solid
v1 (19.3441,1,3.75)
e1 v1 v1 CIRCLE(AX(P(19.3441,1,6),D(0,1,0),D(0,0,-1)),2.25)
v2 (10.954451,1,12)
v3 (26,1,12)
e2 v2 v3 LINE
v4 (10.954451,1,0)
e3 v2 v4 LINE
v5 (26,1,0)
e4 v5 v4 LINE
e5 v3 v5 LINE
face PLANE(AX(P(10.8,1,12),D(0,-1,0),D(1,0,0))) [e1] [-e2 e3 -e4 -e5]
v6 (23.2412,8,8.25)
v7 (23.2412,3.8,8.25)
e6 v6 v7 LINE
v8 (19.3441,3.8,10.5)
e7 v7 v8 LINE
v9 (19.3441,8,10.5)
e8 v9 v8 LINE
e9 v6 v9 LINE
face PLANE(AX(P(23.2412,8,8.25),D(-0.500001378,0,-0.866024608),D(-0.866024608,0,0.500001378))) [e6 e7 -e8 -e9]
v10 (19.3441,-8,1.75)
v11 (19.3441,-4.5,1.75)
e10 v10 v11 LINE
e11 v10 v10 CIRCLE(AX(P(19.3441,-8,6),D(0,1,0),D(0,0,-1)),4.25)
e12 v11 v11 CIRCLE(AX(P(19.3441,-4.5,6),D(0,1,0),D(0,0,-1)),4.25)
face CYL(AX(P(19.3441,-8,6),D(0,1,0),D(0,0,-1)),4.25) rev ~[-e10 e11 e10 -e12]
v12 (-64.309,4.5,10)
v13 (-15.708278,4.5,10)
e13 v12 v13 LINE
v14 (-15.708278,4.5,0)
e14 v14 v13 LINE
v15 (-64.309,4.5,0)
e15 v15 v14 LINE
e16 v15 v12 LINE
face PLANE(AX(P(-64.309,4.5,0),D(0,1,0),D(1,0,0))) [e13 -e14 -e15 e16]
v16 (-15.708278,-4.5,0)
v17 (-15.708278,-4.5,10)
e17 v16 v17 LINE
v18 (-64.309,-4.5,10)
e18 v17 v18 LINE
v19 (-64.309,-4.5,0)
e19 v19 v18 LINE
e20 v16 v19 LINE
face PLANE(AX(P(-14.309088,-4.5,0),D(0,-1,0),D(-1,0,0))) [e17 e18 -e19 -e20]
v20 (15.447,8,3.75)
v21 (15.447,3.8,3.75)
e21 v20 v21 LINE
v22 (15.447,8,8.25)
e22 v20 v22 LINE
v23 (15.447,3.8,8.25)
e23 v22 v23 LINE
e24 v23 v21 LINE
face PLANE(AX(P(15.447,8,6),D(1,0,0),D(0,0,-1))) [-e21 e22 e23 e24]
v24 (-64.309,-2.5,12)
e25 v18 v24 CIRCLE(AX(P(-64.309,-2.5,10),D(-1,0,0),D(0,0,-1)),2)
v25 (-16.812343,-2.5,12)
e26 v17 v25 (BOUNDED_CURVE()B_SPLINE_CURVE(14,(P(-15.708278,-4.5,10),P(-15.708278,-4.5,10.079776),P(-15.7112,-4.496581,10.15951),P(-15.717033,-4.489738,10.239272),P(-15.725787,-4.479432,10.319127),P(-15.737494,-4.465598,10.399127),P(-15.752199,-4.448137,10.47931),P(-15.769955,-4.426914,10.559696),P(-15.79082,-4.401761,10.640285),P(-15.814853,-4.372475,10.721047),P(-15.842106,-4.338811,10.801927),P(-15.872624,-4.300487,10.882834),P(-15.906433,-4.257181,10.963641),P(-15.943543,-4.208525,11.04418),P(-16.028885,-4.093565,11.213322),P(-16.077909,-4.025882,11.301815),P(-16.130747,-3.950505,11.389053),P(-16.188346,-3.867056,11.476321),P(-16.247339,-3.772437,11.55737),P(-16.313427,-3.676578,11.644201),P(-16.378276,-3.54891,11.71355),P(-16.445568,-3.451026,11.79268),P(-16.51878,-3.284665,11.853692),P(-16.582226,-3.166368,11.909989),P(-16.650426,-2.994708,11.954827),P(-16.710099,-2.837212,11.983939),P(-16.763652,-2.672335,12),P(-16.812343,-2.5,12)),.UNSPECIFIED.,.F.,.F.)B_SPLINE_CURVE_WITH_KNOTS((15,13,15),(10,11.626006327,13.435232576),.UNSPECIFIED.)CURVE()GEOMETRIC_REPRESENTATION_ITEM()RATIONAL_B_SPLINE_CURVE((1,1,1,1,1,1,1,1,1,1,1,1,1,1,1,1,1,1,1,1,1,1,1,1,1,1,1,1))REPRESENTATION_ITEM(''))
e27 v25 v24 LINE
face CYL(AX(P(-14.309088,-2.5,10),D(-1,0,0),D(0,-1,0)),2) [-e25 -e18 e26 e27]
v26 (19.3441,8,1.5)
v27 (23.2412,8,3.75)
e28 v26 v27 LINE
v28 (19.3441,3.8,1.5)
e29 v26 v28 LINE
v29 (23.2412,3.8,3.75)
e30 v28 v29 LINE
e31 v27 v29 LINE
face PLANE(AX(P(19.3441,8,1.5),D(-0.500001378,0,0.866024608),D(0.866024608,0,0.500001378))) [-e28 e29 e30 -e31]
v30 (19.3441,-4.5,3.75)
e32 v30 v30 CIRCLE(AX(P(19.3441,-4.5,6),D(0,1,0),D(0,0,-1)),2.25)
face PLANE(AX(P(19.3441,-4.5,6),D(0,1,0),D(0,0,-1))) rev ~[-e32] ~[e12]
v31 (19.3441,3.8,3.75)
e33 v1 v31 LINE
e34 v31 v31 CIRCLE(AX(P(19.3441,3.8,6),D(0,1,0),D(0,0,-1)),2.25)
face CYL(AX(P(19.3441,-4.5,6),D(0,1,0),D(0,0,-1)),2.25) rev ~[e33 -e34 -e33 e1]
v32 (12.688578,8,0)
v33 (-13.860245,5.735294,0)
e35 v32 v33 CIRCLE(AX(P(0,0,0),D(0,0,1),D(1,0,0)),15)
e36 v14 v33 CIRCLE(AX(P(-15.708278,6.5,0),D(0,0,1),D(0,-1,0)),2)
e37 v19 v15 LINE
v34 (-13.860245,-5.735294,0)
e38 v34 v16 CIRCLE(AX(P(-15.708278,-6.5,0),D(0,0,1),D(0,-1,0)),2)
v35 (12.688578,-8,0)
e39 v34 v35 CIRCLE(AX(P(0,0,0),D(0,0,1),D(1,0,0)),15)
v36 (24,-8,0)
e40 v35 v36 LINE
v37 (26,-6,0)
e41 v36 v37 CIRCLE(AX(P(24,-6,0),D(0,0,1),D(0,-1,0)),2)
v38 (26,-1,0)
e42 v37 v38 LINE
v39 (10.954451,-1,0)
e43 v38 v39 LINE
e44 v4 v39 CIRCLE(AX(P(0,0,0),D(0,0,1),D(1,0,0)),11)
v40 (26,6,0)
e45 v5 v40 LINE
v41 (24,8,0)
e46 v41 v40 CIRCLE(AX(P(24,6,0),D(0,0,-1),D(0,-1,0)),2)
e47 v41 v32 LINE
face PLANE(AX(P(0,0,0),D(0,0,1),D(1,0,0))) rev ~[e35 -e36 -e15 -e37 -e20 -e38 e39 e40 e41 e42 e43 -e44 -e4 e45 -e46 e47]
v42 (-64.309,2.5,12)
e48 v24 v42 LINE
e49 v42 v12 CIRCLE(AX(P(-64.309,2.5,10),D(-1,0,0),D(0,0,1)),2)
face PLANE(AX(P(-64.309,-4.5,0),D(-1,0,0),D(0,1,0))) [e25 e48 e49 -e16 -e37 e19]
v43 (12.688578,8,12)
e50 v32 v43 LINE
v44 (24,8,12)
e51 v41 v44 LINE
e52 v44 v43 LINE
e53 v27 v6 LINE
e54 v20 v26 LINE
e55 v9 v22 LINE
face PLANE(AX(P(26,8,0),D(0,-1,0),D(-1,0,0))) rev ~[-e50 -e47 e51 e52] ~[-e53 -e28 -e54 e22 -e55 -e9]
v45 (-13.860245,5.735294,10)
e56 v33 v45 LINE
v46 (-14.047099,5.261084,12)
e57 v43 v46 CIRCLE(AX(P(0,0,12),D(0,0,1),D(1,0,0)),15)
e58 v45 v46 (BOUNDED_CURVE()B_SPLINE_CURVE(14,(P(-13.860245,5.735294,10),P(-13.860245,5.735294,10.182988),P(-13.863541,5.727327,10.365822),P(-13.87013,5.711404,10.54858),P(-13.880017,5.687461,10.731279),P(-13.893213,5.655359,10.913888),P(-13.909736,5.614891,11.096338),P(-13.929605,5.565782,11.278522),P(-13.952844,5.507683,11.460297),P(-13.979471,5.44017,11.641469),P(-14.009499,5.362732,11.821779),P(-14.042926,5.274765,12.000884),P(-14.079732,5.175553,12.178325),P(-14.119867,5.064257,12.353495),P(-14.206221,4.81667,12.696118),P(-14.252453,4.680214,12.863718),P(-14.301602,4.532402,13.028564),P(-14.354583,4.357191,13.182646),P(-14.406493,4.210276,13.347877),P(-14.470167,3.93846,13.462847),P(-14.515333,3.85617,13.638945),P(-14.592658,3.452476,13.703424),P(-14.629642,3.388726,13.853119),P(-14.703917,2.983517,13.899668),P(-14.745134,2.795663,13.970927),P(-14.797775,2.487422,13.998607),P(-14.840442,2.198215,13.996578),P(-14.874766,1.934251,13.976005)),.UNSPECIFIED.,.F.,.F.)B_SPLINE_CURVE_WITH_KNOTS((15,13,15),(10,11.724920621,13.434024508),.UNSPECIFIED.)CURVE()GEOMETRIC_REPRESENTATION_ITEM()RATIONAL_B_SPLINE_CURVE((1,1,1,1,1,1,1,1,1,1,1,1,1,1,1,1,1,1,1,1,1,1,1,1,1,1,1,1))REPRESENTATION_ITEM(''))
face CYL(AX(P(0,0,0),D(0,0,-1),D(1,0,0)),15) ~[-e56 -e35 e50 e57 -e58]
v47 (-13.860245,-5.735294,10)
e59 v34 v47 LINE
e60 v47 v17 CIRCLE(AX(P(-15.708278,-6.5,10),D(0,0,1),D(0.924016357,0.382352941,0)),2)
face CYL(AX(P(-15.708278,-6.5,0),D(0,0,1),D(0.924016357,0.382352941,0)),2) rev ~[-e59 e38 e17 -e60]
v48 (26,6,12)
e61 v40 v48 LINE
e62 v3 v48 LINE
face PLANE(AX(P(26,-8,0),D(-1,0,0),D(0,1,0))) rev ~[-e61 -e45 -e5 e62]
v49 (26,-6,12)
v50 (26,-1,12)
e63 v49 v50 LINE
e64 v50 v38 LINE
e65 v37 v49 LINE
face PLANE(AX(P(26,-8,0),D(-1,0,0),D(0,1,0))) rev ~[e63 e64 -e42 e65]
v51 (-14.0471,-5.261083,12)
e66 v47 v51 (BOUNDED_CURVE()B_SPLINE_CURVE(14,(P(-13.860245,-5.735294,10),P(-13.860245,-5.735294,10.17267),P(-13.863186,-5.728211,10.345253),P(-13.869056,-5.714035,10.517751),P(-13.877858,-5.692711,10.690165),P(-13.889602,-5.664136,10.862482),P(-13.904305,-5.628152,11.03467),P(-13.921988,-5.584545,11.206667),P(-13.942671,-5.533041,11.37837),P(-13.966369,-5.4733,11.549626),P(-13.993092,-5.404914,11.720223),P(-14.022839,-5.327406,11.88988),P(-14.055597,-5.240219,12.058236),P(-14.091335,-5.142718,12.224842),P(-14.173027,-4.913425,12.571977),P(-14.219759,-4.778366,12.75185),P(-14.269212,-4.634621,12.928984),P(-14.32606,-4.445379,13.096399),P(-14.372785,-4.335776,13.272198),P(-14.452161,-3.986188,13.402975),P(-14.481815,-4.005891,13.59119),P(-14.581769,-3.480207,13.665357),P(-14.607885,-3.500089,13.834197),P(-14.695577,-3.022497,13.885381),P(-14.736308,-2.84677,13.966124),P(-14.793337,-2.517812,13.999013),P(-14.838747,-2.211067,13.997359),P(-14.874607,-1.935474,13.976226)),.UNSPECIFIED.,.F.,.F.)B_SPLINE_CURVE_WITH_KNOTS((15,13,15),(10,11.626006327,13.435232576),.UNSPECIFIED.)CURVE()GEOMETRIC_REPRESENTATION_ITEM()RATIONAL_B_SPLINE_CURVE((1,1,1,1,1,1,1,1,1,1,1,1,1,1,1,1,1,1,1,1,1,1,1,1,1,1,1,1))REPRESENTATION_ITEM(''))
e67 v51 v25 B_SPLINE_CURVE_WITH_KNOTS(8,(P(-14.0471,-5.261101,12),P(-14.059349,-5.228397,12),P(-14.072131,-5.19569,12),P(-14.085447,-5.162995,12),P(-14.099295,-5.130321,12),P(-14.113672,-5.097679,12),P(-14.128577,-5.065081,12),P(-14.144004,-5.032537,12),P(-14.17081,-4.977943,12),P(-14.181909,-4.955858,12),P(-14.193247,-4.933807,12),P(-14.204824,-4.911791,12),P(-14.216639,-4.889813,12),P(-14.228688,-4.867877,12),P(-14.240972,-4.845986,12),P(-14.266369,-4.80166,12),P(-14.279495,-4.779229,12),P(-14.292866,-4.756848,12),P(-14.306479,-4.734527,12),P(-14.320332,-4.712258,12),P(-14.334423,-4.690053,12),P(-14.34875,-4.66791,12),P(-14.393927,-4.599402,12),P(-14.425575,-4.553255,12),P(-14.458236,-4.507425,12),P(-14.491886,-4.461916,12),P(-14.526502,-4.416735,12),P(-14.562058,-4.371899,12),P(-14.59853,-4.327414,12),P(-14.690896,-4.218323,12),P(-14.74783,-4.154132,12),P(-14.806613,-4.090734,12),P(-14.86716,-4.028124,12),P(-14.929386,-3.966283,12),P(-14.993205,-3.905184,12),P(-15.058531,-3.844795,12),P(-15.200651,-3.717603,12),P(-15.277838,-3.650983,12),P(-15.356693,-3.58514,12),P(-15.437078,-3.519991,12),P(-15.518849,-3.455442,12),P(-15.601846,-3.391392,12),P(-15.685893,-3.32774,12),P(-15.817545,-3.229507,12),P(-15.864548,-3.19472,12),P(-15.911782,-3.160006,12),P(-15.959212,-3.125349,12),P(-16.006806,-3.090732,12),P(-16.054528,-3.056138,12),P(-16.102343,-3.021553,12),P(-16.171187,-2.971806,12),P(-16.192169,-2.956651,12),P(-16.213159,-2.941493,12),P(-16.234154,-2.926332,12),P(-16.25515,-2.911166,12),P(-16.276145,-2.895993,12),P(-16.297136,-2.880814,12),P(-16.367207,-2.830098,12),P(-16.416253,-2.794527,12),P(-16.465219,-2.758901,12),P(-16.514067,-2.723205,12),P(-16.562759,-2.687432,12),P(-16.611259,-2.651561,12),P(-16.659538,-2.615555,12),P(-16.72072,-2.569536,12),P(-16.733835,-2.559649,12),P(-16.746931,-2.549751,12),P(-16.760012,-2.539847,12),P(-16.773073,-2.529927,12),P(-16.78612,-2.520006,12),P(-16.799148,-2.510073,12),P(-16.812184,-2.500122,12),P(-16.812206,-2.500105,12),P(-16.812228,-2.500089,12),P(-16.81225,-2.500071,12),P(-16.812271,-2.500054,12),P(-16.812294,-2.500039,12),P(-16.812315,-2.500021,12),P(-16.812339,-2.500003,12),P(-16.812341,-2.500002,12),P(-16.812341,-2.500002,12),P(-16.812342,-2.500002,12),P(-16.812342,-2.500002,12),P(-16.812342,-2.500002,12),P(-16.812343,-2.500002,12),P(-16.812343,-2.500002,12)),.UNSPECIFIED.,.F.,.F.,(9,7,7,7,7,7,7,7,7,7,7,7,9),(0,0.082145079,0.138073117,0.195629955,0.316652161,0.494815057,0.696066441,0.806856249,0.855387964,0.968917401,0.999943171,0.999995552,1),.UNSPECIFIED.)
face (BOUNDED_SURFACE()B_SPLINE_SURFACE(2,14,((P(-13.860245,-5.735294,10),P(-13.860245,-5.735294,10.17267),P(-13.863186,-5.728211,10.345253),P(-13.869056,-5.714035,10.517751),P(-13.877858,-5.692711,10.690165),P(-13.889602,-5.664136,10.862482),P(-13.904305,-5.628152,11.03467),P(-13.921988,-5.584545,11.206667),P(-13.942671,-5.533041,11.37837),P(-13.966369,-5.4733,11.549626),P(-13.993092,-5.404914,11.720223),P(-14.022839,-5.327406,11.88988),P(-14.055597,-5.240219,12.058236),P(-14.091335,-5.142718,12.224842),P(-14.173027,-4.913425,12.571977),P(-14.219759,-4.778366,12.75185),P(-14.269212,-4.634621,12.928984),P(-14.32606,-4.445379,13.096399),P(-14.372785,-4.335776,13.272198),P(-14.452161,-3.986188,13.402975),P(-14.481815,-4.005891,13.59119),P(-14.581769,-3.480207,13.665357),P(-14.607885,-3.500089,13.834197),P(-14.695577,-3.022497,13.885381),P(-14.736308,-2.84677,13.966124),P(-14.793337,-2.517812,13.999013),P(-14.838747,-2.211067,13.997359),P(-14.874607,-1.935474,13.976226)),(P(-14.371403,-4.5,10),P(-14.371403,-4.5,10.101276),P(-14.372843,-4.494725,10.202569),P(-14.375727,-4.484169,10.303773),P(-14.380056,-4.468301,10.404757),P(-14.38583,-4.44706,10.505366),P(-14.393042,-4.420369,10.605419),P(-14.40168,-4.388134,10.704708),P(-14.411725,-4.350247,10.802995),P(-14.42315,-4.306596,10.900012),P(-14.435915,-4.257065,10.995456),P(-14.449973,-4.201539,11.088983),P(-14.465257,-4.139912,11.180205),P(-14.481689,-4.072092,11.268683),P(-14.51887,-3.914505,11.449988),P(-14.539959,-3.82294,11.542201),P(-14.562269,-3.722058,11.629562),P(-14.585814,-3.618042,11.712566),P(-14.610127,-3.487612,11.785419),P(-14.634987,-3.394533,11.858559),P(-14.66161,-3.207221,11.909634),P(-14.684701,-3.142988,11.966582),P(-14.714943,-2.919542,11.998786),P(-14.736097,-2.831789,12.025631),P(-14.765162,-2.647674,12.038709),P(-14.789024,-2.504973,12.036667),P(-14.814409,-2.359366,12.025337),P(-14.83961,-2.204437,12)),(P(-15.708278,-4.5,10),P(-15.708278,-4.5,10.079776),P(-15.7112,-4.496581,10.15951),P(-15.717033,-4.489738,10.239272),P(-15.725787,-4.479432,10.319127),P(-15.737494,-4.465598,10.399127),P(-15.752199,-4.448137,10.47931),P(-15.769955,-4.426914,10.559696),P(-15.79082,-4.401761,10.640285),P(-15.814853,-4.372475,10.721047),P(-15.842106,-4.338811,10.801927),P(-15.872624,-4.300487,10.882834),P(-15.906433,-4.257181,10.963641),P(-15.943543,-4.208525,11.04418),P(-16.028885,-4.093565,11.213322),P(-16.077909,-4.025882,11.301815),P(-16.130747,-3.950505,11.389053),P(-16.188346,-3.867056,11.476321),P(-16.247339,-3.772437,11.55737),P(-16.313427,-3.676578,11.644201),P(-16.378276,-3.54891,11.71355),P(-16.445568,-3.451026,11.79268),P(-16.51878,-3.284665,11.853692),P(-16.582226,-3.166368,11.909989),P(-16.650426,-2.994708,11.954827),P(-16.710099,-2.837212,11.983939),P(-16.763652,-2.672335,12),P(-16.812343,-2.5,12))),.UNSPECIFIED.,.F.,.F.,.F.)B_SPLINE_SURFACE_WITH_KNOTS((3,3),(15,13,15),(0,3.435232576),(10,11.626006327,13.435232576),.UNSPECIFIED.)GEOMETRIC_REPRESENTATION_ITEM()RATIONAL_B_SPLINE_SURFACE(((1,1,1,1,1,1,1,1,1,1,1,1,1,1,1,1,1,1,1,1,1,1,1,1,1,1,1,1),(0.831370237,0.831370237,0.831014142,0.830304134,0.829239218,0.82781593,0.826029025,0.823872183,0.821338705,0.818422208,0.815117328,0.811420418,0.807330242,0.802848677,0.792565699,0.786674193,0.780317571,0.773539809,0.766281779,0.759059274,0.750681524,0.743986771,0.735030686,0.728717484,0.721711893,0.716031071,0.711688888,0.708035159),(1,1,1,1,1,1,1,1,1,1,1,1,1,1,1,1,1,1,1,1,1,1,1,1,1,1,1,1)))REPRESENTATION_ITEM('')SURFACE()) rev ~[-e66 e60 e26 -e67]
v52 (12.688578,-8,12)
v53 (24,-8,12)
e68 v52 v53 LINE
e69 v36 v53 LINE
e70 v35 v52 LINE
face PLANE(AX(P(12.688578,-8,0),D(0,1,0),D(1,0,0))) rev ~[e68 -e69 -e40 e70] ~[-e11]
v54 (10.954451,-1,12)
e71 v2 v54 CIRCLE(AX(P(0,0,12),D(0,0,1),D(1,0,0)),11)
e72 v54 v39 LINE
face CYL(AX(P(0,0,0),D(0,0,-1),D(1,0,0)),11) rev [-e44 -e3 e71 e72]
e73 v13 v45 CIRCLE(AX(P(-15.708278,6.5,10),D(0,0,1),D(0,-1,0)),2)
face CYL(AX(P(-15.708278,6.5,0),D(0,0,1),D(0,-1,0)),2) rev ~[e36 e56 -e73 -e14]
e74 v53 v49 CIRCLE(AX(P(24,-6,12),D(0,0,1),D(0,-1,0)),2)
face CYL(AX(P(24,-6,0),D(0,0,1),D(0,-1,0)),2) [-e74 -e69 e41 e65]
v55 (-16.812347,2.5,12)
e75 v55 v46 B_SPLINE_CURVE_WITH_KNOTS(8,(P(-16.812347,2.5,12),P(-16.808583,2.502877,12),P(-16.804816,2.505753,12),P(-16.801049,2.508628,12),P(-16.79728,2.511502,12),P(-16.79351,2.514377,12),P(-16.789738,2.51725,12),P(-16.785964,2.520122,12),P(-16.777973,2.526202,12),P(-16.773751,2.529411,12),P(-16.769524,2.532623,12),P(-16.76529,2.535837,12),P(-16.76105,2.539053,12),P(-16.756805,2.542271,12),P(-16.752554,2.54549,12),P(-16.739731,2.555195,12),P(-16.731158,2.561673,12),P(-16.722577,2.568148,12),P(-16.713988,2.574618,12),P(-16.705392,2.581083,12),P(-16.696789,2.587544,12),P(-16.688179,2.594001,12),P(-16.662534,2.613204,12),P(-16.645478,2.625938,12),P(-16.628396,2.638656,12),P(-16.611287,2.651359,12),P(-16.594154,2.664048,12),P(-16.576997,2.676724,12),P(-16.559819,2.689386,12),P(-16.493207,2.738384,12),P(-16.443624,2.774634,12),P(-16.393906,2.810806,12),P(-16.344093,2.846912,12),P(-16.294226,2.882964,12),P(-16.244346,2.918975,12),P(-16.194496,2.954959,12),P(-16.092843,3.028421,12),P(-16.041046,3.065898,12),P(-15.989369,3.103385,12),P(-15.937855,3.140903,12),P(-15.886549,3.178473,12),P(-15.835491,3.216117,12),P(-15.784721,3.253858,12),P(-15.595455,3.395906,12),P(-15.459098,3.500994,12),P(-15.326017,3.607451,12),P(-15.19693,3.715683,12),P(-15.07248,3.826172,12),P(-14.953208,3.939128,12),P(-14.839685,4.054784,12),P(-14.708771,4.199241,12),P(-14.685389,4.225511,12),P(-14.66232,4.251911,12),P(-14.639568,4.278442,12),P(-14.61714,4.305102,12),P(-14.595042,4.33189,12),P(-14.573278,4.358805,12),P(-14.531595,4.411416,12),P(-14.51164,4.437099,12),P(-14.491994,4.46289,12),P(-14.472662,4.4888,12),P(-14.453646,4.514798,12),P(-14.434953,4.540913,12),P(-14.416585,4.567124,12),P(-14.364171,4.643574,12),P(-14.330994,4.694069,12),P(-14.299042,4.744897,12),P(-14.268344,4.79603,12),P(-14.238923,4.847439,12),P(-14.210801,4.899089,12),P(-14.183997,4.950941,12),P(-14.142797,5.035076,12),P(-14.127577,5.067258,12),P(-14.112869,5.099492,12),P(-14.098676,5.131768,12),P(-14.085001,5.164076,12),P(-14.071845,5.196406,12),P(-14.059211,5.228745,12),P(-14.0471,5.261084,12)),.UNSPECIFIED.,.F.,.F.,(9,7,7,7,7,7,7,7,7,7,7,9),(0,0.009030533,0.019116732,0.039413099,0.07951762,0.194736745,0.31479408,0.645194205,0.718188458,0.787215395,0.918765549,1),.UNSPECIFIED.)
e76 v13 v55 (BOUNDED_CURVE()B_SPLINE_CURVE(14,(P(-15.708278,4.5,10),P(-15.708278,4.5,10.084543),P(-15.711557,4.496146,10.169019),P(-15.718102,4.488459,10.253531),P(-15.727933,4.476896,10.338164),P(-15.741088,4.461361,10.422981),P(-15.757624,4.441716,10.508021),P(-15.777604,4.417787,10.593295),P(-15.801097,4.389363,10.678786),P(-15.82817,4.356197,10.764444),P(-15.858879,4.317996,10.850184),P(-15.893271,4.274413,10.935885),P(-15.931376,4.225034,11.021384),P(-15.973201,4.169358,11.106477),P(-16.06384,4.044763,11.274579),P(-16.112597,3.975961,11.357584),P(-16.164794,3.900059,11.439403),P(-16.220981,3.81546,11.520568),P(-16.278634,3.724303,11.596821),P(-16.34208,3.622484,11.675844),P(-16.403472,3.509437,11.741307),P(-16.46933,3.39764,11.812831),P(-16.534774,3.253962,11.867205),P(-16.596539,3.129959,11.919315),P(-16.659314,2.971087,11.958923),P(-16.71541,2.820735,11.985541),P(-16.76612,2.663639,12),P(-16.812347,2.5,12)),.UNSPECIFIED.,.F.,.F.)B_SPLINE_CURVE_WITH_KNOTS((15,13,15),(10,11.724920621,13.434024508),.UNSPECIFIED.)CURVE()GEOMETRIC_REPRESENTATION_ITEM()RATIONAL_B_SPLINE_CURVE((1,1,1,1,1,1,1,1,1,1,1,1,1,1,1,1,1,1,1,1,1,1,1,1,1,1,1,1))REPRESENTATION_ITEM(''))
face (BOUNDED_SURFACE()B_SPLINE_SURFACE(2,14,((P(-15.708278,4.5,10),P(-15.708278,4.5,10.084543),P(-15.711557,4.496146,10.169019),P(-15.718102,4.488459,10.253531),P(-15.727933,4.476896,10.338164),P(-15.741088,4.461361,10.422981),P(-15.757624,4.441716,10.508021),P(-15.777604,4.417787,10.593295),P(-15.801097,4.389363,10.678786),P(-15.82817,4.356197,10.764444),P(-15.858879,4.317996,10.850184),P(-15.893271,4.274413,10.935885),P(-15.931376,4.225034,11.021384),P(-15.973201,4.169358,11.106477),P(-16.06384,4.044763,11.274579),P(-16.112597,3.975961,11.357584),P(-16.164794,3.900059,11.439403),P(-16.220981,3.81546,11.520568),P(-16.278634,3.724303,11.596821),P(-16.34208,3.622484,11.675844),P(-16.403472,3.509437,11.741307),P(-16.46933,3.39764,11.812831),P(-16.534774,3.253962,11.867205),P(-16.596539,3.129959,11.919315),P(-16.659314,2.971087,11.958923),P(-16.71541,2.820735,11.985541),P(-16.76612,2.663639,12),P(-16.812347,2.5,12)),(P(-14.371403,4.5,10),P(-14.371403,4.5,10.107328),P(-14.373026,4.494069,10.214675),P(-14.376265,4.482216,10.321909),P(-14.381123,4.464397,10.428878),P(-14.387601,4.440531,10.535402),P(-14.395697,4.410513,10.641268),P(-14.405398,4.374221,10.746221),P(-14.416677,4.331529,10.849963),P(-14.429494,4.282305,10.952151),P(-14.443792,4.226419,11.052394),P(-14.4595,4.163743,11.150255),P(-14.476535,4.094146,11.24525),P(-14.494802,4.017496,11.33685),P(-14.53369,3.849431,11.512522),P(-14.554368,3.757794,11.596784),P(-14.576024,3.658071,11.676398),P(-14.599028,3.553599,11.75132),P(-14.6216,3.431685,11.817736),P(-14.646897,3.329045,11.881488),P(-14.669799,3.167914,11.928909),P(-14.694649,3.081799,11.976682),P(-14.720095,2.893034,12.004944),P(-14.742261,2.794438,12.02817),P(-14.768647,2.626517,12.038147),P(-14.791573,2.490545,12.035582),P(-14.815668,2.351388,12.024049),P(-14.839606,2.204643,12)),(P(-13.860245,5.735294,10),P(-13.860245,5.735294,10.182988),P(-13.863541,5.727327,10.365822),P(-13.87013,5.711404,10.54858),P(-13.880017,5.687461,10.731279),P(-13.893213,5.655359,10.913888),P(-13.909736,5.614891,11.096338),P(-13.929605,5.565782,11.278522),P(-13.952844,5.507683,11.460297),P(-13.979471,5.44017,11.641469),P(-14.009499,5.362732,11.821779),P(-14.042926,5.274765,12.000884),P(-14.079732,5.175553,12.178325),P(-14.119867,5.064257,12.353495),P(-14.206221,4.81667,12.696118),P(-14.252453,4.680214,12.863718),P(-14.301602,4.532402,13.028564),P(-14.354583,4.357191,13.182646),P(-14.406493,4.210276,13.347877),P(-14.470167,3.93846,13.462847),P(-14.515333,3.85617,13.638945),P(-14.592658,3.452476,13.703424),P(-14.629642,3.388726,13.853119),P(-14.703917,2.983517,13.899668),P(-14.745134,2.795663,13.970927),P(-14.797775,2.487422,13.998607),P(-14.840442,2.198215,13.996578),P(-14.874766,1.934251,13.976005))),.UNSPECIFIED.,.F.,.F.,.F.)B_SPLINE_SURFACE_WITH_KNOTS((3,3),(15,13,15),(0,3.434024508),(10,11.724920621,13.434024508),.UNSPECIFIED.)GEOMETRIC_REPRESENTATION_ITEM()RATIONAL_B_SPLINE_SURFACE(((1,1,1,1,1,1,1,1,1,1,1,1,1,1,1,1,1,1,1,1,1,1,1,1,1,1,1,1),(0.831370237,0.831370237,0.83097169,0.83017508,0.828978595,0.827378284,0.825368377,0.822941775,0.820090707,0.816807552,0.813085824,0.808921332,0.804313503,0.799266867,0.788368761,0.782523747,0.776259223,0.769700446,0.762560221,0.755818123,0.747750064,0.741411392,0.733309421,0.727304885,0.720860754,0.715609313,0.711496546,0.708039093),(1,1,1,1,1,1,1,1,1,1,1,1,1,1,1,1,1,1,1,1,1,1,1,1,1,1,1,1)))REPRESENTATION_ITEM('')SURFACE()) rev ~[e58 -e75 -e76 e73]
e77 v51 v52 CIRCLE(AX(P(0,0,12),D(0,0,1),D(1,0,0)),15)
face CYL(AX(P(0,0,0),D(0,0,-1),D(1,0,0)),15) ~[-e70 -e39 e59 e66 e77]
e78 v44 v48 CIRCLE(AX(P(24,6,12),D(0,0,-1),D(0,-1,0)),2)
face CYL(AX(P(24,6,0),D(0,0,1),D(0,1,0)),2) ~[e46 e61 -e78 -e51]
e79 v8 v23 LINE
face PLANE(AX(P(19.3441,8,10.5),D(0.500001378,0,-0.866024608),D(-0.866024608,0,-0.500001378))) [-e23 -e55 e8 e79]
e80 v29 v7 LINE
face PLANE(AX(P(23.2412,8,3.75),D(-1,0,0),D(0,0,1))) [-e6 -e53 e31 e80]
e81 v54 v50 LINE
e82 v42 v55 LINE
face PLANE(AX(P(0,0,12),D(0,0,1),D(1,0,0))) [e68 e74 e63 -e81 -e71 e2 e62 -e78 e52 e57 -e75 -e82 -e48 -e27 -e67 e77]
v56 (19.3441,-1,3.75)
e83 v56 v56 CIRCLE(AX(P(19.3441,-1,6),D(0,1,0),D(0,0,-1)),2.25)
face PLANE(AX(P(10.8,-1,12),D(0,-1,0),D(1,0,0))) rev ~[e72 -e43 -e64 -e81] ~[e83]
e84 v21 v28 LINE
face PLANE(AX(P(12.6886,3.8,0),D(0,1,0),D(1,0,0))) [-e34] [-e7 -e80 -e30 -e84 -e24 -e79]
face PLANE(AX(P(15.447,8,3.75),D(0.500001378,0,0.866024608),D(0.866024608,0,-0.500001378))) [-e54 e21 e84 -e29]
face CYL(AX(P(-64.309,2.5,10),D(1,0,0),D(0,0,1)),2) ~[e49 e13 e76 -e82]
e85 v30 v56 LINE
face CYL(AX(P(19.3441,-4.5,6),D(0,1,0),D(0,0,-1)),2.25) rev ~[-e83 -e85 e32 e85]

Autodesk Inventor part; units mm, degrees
ref_plane "YZ Plane" through (0, 0, 0) normal (1, 0, 0) x (0, 1, 0)
ref_plane "XZ Plane" through (0, 0, 0) normal (0, 1, 0) x (-1, 0, 0)
ref_plane "XY Plane" through (0, 0, 0) normal (0, 0, 1) x (1, 0, 0)
sketch "Sketch1" plane through (0, 0, 0) normal (0, 0, 1) x (1, 0, 0)
  circle A0 centre (0, 0) radius 11
  circle A1 centre (0, 0) radius 15
  line L0 (26, 8) -> (11, 8)
  line L1 (11, 8) -> (11, -8)
  line L2 (11, -8) -> (26, -8)
  line L3 (26, -8) -> (26, 8)
  line L4 (-64.309, 4.5) -> (-12, 4.5)
  line L5 (-12, 4.5) -> (-12, -4.5)
  line L6 (-12, -4.5) -> (-64.309, -4.5)
  line L7 (-64.309, -4.5) -> (-64.309, 4.5)
  point P0 (12.6886, 8)
  point P1 (12.6886, -8)
  point P2 (-14.3091, -4.5)
  point P3 (-14.3091, 4.5)
  dimension "d0" = 22
  dimension "d1" = 30
  dimension "d10" = 15
  dimension "d11" = 16
  dimension "d45" = 52.309
  dimension "d46" = 9
extrude "Extrusion1" add sketch "Sketch1" along normal blind 12
sketch "Sketch2" plane through (0, 0, 12) normal (0, 0, 1) x (1, 0, 0)
  circle A0 centre (0, 0) radius 11 projected
  line L0 (26, -8) -> (26, 8) projected
  line L1 (26, 0) -> (10.8, 0)
  line L2 (10.8, 0) -> (10.8, 1)
  line L3 (10.8, 1) -> (26, 1)
  line L4 (26, 1) -> (26, 0)
  line L5 (26, 0) -> (10.8, 0)
  line L6 (10.8, 0) -> (10.8, -1)
  line L7 (10.8, -1) -> (26, -1)
  line L8 (26, -1) -> (26, 0)
  point P0 (10.9545, 1)
  point P1 (10.9545, -1)
  dimension "d20" = 15.2
  dimension "d21" = 1
  dimension "d22" = 1
extrude "Extrusion2" cut sketch "Sketch2" against normal blind 12 contours L1 L2 L3 A0 | L1 L0 L7 A0 | A0 L3 L0 L1 | A0 L7 L6 L1
sketch "Sketch3" plane through (12.6886, -8, 0) normal (0, -1, 0) x (1, 0, 0)
  line L0 (0, 0) -> (0, 12) projected
  line L1 (0, 0) -> (6.6555, 0)
  line L2 (6.6555, 0) -> (6.6555, 6)
  line L3 (6.6555, 6) -> (0, 6)
  line L4 (0, 6) -> (0, 0)
  point P0 (-12.6886, 0)
  dimension "d25" = 6.6555
  dimension "d26" = 6
hole "Hole1" at (19.3441, -8, 6) direction (0, 1, 0) diameter 4.5 depth 12.5 counterbore diameter 8.5 counterbore depth 3.5
sketch "Sketch4" plane through (12.6886, 8, 0) normal (0, 1, 0) x (1, 0, 0)
  line L0 (13.3114, 0) -> (0, 0) projected
  line L1 (0, 0) -> (6.6555, 0)
  line L2 (6.6555, 0) -> (6.6555, -6)
  line L3 (6.6555, -6) -> (0, -6)
  line L4 (0, -6) -> (0, 0)
  line L5 (6.6555, -6) -> (6.6555, -10.5)
  line L6 (6.6555, -6) -> (11.1555, -6) construction
  line L7 (6.6555, -10.5) -> (2.7584, -8.25)
  line L8 (2.7584, -8.25) -> (2.7584, -3.75)
  line L9 (2.7584, -3.75) -> (6.6555, -1.5)
  line L10 (6.6555, -1.5) -> (10.5526, -3.75)
  line L11 (10.5526, -3.75) -> (10.5526, -8.25)
  line L12 (10.5526, -8.25) -> (6.6555, -10.5)
  point P0 (-12.6886, 0)
  dimension "d51" = 6.6555
  dimension "d52" = 6
  dimension "d53" = 4.5
  dimension "d54" = 90
extrude "Extrusion3" cut sketch "Sketch4" against normal blind 4.2 contours L10 L11 L12 L5 L2 | L2 L3 L8 L9 | L5 L7 L8 L3
fillet "Fillet1" radius 2 2 edges at (-39.309, 4.5, 12) (-39.309, -4.5, 12)
fillet "Fillet2" radius 2 4 edges at (-14.3091, -4.5, 5) (-14.4562, -4.0024, 11.3202) (-14.3091, 4.5, 5) (-14.4562, 4.0024, 11.3201)
fillet "Fillet3" radius 2 2 edges at (26, -8, 6) (26, 8, 6)
properties part number "Clasp"
